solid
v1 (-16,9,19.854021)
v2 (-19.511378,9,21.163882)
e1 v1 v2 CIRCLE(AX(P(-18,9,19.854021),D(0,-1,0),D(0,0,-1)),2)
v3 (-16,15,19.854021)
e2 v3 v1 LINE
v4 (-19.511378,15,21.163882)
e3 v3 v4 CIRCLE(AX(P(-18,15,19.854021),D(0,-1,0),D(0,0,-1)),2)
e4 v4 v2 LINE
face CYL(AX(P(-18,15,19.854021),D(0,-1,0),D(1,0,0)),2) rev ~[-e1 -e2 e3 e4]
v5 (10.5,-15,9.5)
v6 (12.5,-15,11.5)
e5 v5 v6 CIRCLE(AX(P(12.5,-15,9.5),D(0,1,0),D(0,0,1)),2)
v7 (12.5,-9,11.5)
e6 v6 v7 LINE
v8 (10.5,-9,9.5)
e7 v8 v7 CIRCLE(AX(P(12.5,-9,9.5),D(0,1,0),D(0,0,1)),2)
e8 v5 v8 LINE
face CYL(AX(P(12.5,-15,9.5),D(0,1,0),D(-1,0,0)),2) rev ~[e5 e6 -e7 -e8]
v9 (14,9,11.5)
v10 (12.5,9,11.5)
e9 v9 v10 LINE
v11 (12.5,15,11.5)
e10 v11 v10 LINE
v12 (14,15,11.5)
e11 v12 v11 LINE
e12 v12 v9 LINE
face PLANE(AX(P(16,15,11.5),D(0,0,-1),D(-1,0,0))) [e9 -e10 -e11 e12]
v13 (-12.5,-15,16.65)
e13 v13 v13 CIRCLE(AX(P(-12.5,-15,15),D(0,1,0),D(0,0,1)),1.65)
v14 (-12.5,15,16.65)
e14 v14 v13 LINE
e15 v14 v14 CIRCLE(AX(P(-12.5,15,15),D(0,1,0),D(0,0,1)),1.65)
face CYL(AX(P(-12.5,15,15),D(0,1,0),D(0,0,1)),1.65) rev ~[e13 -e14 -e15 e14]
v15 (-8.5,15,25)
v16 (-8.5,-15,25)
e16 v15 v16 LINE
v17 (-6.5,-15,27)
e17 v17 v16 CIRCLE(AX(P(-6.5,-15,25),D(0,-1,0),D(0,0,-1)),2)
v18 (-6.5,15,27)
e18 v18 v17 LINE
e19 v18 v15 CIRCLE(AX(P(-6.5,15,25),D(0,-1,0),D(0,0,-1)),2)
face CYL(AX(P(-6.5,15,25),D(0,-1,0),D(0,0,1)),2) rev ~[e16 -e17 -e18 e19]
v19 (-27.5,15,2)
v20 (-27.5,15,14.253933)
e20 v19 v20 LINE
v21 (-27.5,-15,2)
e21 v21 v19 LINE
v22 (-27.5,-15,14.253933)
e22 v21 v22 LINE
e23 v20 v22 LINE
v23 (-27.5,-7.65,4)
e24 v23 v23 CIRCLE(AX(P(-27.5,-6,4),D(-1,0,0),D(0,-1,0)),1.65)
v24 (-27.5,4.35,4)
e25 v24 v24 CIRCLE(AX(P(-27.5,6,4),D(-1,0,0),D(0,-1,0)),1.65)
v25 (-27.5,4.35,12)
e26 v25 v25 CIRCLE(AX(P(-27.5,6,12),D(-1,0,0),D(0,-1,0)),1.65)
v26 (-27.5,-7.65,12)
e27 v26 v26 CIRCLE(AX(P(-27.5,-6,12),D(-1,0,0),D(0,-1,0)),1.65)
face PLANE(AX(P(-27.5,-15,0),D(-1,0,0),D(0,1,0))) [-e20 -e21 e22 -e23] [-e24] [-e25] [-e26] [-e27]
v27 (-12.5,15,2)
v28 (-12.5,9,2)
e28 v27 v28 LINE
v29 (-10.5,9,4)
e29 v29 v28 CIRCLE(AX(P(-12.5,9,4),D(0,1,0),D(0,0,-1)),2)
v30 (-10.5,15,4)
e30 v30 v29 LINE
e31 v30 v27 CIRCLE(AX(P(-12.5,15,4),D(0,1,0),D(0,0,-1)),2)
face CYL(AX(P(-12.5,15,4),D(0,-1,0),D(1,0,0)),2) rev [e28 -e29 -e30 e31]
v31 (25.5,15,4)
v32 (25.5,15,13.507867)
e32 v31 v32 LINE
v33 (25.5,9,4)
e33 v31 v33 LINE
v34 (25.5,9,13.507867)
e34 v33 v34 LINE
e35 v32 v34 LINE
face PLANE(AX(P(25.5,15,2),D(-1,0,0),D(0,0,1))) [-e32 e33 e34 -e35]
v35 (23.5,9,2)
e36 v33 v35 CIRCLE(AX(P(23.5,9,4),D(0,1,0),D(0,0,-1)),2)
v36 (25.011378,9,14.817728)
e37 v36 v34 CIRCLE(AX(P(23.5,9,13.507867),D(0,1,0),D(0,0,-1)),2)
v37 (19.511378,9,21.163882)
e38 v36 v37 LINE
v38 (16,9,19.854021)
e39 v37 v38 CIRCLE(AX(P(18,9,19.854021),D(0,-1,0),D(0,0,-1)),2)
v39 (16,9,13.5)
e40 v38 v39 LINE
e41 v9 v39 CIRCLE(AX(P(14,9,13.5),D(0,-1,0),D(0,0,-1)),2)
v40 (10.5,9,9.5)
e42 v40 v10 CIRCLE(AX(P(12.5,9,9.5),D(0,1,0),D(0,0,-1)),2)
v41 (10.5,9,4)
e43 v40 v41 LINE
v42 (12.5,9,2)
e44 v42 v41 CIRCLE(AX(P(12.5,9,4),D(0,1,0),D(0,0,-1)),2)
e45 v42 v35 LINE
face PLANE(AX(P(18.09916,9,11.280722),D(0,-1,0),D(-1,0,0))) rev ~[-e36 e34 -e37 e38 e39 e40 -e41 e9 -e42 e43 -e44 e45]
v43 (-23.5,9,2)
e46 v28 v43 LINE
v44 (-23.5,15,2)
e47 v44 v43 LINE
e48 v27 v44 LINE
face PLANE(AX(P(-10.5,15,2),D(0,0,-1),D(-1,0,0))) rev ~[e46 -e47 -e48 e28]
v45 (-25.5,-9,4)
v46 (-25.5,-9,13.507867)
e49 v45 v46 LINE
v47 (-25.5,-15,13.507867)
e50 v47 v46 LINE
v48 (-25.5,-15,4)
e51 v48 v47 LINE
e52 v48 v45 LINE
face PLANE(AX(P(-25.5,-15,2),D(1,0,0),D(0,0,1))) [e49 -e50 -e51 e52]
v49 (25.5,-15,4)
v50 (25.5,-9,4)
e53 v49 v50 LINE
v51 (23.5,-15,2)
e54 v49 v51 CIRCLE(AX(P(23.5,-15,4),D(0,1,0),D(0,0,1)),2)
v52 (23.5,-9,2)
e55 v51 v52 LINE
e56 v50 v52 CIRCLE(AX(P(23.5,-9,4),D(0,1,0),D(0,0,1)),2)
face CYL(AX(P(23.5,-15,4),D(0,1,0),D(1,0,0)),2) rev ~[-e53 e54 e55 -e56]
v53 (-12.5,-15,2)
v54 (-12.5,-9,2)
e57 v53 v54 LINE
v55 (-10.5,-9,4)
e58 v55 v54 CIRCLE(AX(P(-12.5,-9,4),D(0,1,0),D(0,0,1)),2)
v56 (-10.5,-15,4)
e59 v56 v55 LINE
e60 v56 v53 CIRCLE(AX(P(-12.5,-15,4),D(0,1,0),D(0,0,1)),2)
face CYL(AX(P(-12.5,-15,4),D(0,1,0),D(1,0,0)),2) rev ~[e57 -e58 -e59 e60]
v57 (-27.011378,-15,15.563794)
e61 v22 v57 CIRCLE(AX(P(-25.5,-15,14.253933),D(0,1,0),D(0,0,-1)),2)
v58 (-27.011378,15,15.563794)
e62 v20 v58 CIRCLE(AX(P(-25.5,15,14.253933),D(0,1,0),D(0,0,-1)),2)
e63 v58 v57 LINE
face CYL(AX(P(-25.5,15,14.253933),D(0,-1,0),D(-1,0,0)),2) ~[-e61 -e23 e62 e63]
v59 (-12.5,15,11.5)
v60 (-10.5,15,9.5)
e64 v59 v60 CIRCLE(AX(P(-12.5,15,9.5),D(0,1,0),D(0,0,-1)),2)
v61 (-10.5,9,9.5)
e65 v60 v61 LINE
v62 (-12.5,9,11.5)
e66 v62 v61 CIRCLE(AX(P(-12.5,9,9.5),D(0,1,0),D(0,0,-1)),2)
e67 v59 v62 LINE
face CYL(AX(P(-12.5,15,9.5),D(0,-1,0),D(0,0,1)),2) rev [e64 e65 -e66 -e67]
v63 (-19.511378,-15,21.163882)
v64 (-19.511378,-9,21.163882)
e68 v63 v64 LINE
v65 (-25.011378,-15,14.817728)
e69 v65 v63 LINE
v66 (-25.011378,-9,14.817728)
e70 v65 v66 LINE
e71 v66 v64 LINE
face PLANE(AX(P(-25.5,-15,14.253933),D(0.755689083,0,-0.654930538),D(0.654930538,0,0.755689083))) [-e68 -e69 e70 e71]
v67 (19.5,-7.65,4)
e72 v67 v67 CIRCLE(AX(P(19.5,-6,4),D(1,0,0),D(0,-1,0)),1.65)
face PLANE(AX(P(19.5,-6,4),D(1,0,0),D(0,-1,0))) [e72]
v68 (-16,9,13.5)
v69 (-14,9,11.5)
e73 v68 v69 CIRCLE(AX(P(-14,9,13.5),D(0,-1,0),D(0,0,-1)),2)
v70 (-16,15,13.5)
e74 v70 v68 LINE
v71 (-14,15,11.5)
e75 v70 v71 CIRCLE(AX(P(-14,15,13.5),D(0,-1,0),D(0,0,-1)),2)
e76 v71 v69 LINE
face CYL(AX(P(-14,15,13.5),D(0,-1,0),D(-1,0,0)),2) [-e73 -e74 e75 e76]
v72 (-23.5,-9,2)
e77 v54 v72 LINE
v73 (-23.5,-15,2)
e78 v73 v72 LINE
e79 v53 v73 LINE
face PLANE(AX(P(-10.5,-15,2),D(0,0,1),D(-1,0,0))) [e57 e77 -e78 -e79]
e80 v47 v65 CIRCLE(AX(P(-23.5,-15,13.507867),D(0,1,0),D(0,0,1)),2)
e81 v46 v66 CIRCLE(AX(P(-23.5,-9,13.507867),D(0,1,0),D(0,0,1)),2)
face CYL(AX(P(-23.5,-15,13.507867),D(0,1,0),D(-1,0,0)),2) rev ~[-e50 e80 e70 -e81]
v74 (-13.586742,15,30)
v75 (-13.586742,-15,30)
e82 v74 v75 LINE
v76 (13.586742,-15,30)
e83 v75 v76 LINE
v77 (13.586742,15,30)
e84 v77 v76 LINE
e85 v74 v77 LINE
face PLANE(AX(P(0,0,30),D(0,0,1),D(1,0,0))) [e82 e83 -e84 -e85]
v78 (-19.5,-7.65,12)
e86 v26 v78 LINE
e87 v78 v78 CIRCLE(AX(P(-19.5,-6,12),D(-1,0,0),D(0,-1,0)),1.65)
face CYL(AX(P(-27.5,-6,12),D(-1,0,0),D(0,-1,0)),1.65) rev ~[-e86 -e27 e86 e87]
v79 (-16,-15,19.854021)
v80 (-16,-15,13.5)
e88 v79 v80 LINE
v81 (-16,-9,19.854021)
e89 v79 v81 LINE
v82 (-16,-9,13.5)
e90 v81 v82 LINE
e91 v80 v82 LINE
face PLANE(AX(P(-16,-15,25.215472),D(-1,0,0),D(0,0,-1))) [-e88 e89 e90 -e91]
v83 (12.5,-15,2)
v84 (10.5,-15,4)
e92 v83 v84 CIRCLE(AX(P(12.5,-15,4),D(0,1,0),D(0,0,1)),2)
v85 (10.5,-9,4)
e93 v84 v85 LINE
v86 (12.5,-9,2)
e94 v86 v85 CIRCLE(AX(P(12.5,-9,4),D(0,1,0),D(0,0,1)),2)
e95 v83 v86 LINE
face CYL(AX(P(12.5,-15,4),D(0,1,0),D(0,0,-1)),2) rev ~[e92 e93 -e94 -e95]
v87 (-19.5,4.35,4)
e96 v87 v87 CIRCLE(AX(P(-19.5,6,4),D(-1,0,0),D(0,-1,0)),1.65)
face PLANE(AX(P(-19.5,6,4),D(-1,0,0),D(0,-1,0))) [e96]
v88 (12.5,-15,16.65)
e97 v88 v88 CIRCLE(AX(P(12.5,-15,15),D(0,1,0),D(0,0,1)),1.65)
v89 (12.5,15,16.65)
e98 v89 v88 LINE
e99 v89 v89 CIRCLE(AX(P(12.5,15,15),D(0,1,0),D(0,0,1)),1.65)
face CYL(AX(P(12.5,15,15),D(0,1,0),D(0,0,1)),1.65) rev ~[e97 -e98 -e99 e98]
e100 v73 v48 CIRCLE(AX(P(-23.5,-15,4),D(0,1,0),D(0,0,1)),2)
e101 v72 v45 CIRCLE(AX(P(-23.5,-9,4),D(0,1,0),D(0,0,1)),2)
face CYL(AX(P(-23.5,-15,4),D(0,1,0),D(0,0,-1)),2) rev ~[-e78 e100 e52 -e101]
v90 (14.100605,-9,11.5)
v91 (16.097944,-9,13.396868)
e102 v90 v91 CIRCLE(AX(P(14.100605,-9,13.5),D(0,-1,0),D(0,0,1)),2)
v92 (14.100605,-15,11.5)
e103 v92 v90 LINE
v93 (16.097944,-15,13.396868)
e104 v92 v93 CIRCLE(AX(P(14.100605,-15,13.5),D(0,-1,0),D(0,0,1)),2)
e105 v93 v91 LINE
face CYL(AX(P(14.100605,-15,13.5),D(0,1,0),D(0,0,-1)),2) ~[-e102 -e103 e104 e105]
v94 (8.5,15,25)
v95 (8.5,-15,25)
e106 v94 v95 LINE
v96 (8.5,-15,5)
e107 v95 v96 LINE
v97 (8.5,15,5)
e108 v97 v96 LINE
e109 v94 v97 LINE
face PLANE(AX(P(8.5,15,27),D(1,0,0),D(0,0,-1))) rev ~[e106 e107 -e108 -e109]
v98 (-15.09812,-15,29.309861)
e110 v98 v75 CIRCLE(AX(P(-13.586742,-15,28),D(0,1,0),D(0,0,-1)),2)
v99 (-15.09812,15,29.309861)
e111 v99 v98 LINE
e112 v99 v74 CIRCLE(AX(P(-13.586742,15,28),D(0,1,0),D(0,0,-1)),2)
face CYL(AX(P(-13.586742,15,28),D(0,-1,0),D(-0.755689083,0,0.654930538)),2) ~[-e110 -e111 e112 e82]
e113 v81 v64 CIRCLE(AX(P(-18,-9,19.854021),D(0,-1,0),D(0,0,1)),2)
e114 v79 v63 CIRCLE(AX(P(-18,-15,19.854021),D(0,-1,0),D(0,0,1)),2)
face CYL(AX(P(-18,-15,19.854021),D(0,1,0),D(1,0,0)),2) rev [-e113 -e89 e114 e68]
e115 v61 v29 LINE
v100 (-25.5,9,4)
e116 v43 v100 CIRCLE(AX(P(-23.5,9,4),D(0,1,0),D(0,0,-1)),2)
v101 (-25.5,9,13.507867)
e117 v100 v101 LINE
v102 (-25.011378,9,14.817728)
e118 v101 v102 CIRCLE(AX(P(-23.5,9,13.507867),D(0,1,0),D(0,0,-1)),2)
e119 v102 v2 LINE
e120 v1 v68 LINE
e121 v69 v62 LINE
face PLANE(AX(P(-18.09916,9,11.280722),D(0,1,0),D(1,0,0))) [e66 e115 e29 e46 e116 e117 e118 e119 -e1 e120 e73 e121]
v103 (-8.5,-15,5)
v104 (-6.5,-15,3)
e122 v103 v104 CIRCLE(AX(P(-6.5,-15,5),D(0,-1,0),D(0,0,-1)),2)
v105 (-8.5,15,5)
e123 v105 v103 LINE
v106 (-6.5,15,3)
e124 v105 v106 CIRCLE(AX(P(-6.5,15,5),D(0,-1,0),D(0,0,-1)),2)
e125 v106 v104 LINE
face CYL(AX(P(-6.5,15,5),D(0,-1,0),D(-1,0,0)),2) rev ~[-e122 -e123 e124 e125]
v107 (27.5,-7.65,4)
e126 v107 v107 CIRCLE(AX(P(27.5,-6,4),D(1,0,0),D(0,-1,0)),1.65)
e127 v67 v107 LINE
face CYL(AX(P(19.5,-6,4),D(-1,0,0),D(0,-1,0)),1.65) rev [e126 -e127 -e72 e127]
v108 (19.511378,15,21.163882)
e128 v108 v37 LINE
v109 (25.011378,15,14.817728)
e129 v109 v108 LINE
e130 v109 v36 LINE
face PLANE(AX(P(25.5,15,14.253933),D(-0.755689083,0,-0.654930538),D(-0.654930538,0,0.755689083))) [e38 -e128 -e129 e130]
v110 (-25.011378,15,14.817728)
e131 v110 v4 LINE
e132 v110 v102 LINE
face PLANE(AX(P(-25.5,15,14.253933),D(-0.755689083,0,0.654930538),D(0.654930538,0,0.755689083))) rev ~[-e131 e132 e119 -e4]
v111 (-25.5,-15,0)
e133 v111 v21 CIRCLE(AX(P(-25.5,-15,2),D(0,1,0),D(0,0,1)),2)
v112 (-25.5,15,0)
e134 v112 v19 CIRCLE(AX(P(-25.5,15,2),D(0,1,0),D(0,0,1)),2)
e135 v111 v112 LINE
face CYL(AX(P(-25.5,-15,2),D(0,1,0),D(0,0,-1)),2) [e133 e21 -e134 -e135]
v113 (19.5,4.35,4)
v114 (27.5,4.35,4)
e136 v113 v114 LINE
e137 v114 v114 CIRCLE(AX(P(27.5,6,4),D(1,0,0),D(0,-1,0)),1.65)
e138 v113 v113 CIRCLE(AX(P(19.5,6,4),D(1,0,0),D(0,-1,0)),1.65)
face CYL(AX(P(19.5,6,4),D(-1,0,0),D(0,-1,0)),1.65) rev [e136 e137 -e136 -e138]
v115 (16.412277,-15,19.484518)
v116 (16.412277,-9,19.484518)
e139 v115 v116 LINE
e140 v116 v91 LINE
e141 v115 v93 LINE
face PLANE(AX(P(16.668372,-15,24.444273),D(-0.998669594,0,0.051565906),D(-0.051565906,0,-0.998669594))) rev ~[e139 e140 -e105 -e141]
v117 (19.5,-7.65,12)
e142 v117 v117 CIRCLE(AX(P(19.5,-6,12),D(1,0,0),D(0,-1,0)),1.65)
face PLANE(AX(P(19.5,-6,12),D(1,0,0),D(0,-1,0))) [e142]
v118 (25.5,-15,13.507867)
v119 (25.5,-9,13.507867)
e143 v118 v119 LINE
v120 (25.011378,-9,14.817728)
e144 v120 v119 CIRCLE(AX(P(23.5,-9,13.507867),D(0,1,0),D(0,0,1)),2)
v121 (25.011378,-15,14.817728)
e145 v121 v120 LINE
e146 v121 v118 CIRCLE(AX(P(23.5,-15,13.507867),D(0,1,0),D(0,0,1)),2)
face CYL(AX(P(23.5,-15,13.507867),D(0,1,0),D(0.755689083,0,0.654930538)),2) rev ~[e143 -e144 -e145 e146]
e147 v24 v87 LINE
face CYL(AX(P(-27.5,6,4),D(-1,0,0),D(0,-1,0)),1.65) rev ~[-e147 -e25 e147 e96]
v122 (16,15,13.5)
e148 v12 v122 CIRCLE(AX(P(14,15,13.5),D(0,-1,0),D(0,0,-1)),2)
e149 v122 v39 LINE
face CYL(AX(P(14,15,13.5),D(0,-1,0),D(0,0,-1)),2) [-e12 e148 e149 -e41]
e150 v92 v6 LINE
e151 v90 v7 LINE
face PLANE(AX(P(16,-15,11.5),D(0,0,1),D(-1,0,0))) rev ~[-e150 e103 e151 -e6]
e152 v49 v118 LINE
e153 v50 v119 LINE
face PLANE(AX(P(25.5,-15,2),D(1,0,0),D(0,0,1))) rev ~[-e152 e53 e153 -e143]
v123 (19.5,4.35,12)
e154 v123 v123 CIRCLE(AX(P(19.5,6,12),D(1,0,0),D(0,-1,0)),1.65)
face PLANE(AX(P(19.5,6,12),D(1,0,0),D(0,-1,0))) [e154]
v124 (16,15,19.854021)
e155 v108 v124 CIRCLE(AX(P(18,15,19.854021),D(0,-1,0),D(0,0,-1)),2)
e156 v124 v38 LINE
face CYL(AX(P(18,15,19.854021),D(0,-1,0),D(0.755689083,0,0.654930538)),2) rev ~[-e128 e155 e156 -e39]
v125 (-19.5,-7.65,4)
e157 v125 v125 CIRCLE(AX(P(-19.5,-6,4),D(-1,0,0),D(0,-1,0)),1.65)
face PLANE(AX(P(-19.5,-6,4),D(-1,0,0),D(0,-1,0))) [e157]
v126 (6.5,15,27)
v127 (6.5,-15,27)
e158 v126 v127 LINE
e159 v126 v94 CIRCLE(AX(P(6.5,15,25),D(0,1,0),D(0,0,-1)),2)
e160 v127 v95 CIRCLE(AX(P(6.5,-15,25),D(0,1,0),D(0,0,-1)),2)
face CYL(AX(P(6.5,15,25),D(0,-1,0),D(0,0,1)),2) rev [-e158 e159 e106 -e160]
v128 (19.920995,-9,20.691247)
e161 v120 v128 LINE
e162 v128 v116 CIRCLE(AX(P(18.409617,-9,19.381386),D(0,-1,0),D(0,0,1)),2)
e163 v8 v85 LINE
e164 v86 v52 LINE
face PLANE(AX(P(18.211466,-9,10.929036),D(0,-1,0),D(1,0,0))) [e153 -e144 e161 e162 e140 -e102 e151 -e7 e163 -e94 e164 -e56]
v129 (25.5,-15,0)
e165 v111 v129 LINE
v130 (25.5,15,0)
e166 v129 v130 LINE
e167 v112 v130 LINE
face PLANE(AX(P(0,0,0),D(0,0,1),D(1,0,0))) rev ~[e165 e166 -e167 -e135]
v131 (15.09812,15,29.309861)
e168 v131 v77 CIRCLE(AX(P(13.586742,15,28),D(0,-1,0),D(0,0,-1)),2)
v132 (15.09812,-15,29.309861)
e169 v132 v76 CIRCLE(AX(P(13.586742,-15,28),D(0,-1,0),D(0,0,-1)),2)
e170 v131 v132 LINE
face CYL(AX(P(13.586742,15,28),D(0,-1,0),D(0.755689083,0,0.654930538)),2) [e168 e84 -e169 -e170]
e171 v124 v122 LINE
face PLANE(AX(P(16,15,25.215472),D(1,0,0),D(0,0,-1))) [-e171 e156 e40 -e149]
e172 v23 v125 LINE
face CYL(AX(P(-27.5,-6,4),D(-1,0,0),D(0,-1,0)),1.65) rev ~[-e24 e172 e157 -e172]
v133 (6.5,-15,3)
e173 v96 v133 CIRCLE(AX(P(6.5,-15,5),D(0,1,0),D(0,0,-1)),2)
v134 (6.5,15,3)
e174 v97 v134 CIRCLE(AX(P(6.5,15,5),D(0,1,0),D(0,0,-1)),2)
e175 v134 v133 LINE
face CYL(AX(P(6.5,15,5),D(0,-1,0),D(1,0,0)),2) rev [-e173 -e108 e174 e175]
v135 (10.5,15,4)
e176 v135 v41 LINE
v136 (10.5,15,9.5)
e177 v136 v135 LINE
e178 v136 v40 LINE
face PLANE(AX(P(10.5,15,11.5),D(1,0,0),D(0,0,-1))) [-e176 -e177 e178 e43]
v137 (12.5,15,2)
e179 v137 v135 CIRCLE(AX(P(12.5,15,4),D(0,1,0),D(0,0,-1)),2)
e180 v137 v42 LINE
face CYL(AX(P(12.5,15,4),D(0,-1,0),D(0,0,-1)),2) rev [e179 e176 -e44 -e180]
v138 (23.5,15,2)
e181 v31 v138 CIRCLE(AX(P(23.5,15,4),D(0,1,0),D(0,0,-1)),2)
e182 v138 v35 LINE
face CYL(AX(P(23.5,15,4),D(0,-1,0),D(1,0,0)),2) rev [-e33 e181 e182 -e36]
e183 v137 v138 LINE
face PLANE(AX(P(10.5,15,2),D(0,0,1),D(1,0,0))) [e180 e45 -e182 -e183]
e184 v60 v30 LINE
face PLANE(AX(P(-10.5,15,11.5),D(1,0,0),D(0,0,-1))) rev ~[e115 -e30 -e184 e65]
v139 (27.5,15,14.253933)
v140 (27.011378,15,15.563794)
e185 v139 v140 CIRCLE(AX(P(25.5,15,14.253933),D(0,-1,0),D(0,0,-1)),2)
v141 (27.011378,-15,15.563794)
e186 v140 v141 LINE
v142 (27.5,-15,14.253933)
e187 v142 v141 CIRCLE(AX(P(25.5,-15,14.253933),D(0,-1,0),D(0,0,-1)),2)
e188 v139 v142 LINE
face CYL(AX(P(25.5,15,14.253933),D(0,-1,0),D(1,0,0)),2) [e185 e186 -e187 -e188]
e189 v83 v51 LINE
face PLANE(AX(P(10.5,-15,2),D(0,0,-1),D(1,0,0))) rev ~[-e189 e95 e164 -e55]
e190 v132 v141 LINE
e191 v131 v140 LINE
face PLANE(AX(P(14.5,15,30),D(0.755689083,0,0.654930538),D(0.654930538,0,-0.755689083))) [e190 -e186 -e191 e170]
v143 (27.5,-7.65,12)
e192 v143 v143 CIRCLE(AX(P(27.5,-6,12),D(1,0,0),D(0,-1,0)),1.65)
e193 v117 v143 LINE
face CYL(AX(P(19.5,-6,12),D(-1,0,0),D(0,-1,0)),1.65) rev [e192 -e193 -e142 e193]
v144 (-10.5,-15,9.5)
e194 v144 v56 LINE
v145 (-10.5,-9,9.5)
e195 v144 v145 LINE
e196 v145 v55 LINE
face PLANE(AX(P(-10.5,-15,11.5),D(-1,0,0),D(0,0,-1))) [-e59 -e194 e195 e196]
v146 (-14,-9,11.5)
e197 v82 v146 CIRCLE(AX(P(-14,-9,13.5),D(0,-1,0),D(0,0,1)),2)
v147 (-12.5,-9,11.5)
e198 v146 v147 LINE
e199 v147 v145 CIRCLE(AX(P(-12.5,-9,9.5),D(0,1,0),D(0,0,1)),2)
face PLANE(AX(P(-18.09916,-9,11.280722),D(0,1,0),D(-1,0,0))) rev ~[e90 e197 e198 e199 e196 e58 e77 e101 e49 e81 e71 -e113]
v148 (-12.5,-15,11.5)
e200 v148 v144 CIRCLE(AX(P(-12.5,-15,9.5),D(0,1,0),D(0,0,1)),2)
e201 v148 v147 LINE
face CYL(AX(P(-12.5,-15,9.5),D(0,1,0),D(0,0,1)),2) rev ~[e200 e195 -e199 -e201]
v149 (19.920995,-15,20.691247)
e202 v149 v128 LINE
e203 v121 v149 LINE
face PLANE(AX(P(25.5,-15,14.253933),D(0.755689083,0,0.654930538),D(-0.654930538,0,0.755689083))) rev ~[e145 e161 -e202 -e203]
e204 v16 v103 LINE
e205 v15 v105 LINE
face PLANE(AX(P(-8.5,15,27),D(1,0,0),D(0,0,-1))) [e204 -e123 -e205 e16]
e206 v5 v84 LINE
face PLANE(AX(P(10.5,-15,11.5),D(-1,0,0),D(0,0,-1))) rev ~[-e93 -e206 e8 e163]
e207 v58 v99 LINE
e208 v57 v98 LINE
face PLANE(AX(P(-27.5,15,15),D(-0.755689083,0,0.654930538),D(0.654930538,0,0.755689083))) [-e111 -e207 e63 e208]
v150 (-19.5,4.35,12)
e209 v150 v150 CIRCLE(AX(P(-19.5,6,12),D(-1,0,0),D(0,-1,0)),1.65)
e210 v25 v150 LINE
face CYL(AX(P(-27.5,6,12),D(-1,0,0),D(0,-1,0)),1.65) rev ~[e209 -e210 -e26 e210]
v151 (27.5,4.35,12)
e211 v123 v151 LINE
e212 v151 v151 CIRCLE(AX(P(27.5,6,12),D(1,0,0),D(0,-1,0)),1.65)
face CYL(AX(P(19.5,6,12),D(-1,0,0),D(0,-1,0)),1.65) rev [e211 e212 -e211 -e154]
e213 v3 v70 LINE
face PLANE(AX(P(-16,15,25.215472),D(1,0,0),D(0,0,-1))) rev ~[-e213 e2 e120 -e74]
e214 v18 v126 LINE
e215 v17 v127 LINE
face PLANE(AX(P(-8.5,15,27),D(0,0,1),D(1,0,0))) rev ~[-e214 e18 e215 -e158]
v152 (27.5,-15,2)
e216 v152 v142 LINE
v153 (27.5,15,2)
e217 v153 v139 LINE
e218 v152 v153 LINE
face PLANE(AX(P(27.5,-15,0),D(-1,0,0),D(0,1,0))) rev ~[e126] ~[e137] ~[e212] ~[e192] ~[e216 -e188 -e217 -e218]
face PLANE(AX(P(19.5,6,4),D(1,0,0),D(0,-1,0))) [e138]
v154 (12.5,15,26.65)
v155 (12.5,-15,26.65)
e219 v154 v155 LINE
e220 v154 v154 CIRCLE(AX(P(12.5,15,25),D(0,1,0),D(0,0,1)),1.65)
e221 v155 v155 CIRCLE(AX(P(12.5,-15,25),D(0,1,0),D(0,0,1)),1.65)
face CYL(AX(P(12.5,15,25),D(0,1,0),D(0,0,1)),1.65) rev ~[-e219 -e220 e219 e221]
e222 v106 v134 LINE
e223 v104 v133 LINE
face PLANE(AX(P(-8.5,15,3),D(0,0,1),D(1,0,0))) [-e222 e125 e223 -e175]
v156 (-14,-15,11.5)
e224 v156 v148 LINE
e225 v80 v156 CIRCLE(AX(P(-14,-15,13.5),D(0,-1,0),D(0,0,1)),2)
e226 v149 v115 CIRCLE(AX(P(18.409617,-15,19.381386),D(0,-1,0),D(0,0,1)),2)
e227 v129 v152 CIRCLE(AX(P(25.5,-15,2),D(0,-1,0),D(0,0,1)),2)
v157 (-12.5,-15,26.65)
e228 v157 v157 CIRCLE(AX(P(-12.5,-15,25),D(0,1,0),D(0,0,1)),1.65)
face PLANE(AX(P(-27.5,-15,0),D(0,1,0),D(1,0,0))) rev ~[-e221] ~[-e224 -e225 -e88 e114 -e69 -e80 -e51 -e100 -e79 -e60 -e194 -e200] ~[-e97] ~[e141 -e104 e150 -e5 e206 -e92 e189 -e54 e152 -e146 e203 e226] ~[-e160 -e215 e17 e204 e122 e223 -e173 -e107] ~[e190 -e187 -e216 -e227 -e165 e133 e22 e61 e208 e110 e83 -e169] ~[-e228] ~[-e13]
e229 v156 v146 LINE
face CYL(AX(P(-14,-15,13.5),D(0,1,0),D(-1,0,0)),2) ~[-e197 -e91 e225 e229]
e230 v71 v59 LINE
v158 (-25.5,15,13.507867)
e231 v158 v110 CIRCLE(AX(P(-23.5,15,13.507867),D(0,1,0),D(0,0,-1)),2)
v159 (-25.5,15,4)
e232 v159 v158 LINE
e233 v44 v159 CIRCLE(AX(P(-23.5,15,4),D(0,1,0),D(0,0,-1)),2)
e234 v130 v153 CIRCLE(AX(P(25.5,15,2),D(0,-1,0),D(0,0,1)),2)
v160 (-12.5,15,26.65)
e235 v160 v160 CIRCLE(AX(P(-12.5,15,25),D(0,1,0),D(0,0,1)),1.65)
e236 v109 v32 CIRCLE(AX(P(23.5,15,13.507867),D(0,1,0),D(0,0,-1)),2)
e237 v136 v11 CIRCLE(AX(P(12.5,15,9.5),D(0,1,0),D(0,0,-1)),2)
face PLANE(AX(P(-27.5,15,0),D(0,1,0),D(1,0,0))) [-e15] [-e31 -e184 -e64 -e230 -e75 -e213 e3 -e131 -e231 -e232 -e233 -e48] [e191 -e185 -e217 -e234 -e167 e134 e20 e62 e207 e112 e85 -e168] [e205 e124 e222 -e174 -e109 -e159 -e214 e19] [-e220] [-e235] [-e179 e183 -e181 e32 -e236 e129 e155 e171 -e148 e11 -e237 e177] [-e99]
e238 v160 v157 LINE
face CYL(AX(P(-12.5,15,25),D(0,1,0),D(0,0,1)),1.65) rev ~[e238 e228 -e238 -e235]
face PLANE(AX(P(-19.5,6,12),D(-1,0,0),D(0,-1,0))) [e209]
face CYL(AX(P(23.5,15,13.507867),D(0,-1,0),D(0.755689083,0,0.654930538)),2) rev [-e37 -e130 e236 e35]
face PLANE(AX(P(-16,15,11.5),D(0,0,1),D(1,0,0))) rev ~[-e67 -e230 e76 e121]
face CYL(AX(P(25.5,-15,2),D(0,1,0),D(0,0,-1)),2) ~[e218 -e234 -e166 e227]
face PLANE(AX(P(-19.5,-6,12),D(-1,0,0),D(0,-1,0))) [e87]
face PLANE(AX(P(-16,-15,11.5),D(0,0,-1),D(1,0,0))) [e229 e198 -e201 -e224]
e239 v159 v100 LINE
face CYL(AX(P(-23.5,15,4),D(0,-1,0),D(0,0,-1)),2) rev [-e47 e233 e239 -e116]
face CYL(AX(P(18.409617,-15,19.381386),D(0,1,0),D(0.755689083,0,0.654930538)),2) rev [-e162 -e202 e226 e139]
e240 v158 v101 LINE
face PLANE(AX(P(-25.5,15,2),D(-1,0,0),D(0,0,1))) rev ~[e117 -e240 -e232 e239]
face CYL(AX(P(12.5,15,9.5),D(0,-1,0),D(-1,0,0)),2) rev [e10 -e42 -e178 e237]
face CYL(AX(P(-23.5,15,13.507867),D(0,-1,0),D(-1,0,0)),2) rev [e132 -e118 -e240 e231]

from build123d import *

# Parameters (mm, degrees)
SKETCH_1_W          = 55
SKETCH_1_H          = 30
EXTRUDE_1_DEPTH     = 30
SKETCH_2_R          = 1.65
SKETCH_2_W          = 17
SKETCH_2_H          = 24
CUT_EXTRUDE_1_DEPTH = 40
CUT_EXTRUDE_3_DEPTH = 40
CUT_EXTRUDE_4_DEPTH = 6
CUT_EXTRUDE_5_DEPTH = 6
FILLET_1_R          = 2
FILLET_2_R          = 2
FILLET_3_R          = 2
SKETCH_10_R         = 1.65
CUT_EXTRUDE_7_DEPTH = 8
CUT_EXTRUDE_START   = -8
SKETCH_11_R         = 1.65
CUT_EXTRUDE_8_DEPTH = 8


with BuildPart() as part:
    # 草图1 → 凸台-拉伸1 (new body)
    with BuildSketch(Plane.XY):
        Rectangle(SKETCH_1_W, SKETCH_1_H)
    extrude(amount=EXTRUDE_1_DEPTH)

    # 草图2 → 切除-拉伸1 (cut)
    with BuildSketch(Plane(origin=(0, 15, 0), x_dir=(1, 0, 0), z_dir=(0, 1, 0))):
        with Locations(Location((12.5, -25, 0), (0, 0, 270))):
            Circle(SKETCH_2_R)
        with Locations(Location((-12.5, -25, 0), (0, 0, 270))):
            Circle(SKETCH_2_R)
        with Locations(Location((-12.5, -15, 0), (0, 0, 270))):
            Circle(SKETCH_2_R)
        with Locations(Location((12.5, -15, 0), (0, 0, 270))):
            Circle(SKETCH_2_R)
        with Locations((0, -15)):
            Rectangle(SKETCH_2_W, SKETCH_2_H)
    extrude(amount=-CUT_EXTRUDE_1_DEPTH, mode=Mode.SUBTRACT)

    # 草图7 → 切除-拉伸3 (cut)
    with BuildSketch(Plane(origin=(0, 15, 0), x_dir=(1, 0, 0), z_dir=(0, 1, 0))):
        Polygon((27.5, -15), (27.5, -30), (14.5, -30), align=None)
        Polygon((-14.5, -30), (-27.5, -30), (-27.5, -15), align=None)
    extrude(amount=-CUT_EXTRUDE_3_DEPTH, mode=Mode.SUBTRACT)

    # 草图8 → 切除-拉伸4 (cut)
    with BuildSketch(Plane(origin=(0, 15, 0), x_dir=(1, 0, 0), z_dir=(0, 1, 0))):
        Polygon((-16, -25.215471809), (-16, -11.5), (-10.5, -11.5), (-10.5, -2), (-25.5, -2), (-25.5, -14.253933347), align=None)
        Polygon((16, -25.215471809), (16, -11.5), (10.5, -11.5), (10.5, -2), (25.5, -2), (25.5, -14.253933347), align=None)
    extrude(amount=-CUT_EXTRUDE_4_DEPTH, mode=Mode.SUBTRACT)

    # 草图9 → 切除-拉伸5 (cut)
    with BuildSketch(Plane.XZ.offset(15)):
        Polygon((-16, 25.215471809), (-16, 11.5), (-10.5, 11.5), (-10.5, 2), (-25.5, 2), (-25.5, 14.253933347), align=None)
        Polygon((16.668372364, 24.444272927), (16, 11.5), (10.5, 11.5), (10.5, 2), (25.5, 2), (25.5, 14.253933347), align=None)
    extrude(amount=-CUT_EXTRUDE_5_DEPTH, mode=Mode.SUBTRACT)

    # 圆角1
    fillet_1_edges = [part.edges().sort_by_distance(p)[0] for p in [
        (-25.5, -12, 14.253933347),
        (-16, -12, 25.215471809),
        (-16, -12, 11.5),
        (-10.5, -12, 11.5),
        (-10.5, -12, 2),
        (-25.5, -12, 2),
        (25.5, -12, 2),
        (10.5, -12, 2),
        (10.5, -12, 11.5),
        (16, -12, 11.5),
        (16.668372364, -12, 24.444272927),
        (25.5, -12, 14.253933347),
        (8.5, 0, 3),
        (8.5, 0, 27),
        (-8.5, 0, 27),
        (-8.5, 0, 3),
    ]]
    fillet(fillet_1_edges, radius=FILLET_1_R)

    # 圆角2
    fillet_2_edges = [part.edges().sort_by_distance(p)[0] for p in [
        (25.5, 12, 14.253933347),
        (16, 12, 25.215471809),
        (16, 12, 11.5),
        (10.5, 12, 11.5),
        (10.5, 12, 2),
        (25.5, 12, 2),
        (-16, 12, 25.215471809),
        (-25.5, 12, 14.253933347),
        (-25.5, 12, 2),
        (-10.5, 12, 2),
        (-10.5, 12, 11.5),
        (-16, 12, 11.5),
    ]]
    fillet(fillet_2_edges, radius=FILLET_2_R)

    # 圆角3
    fillet_3_edges = [part.edges().sort_by_distance(p)[0] for p in [
        (-27.5, 0, 0),
        (-14.5, 0, 30),
        (14.5, 0, 30),
        (27.5, 0, 0),
        (27.5, 0, 15),
        (-27.5, 0, 15),
    ]]
    fillet(fillet_3_edges, radius=FILLET_3_R)

    # 草图10 → 切除-拉伸7 (cut)
    with BuildSketch(Plane.ZY.offset(27.5)):
        with Locations(Location((12, -6, 0), (0, 0, 270))):
            Circle(SKETCH_10_R)
        with Locations(Location((4, -6, 0), (0, 0, 270))):
            Circle(SKETCH_10_R)
        with Locations(Location((4, 6, 0), (0, 0, 270))):
            Circle(SKETCH_10_R)
        with Locations(Location((12, 6, 0), (0, 0, 270))):
            Circle(SKETCH_10_R)
    extrude(amount=-CUT_EXTRUDE_7_DEPTH, mode=Mode.SUBTRACT)

    # 草图11 → 切除-拉伸8 (cut)
    with BuildSketch(Plane(origin=(27.5, 0, 0), x_dir=(0, 0, -1), z_dir=(1, 0, 0)).offset(CUT_EXTRUDE_START)):
        with Locations(Location((-12, 6, 0), (0, 0, 270))):
            Circle(SKETCH_11_R)
        with Locations(Location((-4, 6, 0), (0, 0, 270))):
            Circle(SKETCH_11_R)
        with Locations(Location((-4, -6, 0), (0, 0, 270))):
            Circle(SKETCH_11_R)
        with Locations(Location((-12, -6, 0), (0, 0, 270))):
            Circle(SKETCH_11_R)
    extrude(amount=CUT_EXTRUDE_8_DEPTH, mode=Mode.SUBTRACT)


solid = part.part
